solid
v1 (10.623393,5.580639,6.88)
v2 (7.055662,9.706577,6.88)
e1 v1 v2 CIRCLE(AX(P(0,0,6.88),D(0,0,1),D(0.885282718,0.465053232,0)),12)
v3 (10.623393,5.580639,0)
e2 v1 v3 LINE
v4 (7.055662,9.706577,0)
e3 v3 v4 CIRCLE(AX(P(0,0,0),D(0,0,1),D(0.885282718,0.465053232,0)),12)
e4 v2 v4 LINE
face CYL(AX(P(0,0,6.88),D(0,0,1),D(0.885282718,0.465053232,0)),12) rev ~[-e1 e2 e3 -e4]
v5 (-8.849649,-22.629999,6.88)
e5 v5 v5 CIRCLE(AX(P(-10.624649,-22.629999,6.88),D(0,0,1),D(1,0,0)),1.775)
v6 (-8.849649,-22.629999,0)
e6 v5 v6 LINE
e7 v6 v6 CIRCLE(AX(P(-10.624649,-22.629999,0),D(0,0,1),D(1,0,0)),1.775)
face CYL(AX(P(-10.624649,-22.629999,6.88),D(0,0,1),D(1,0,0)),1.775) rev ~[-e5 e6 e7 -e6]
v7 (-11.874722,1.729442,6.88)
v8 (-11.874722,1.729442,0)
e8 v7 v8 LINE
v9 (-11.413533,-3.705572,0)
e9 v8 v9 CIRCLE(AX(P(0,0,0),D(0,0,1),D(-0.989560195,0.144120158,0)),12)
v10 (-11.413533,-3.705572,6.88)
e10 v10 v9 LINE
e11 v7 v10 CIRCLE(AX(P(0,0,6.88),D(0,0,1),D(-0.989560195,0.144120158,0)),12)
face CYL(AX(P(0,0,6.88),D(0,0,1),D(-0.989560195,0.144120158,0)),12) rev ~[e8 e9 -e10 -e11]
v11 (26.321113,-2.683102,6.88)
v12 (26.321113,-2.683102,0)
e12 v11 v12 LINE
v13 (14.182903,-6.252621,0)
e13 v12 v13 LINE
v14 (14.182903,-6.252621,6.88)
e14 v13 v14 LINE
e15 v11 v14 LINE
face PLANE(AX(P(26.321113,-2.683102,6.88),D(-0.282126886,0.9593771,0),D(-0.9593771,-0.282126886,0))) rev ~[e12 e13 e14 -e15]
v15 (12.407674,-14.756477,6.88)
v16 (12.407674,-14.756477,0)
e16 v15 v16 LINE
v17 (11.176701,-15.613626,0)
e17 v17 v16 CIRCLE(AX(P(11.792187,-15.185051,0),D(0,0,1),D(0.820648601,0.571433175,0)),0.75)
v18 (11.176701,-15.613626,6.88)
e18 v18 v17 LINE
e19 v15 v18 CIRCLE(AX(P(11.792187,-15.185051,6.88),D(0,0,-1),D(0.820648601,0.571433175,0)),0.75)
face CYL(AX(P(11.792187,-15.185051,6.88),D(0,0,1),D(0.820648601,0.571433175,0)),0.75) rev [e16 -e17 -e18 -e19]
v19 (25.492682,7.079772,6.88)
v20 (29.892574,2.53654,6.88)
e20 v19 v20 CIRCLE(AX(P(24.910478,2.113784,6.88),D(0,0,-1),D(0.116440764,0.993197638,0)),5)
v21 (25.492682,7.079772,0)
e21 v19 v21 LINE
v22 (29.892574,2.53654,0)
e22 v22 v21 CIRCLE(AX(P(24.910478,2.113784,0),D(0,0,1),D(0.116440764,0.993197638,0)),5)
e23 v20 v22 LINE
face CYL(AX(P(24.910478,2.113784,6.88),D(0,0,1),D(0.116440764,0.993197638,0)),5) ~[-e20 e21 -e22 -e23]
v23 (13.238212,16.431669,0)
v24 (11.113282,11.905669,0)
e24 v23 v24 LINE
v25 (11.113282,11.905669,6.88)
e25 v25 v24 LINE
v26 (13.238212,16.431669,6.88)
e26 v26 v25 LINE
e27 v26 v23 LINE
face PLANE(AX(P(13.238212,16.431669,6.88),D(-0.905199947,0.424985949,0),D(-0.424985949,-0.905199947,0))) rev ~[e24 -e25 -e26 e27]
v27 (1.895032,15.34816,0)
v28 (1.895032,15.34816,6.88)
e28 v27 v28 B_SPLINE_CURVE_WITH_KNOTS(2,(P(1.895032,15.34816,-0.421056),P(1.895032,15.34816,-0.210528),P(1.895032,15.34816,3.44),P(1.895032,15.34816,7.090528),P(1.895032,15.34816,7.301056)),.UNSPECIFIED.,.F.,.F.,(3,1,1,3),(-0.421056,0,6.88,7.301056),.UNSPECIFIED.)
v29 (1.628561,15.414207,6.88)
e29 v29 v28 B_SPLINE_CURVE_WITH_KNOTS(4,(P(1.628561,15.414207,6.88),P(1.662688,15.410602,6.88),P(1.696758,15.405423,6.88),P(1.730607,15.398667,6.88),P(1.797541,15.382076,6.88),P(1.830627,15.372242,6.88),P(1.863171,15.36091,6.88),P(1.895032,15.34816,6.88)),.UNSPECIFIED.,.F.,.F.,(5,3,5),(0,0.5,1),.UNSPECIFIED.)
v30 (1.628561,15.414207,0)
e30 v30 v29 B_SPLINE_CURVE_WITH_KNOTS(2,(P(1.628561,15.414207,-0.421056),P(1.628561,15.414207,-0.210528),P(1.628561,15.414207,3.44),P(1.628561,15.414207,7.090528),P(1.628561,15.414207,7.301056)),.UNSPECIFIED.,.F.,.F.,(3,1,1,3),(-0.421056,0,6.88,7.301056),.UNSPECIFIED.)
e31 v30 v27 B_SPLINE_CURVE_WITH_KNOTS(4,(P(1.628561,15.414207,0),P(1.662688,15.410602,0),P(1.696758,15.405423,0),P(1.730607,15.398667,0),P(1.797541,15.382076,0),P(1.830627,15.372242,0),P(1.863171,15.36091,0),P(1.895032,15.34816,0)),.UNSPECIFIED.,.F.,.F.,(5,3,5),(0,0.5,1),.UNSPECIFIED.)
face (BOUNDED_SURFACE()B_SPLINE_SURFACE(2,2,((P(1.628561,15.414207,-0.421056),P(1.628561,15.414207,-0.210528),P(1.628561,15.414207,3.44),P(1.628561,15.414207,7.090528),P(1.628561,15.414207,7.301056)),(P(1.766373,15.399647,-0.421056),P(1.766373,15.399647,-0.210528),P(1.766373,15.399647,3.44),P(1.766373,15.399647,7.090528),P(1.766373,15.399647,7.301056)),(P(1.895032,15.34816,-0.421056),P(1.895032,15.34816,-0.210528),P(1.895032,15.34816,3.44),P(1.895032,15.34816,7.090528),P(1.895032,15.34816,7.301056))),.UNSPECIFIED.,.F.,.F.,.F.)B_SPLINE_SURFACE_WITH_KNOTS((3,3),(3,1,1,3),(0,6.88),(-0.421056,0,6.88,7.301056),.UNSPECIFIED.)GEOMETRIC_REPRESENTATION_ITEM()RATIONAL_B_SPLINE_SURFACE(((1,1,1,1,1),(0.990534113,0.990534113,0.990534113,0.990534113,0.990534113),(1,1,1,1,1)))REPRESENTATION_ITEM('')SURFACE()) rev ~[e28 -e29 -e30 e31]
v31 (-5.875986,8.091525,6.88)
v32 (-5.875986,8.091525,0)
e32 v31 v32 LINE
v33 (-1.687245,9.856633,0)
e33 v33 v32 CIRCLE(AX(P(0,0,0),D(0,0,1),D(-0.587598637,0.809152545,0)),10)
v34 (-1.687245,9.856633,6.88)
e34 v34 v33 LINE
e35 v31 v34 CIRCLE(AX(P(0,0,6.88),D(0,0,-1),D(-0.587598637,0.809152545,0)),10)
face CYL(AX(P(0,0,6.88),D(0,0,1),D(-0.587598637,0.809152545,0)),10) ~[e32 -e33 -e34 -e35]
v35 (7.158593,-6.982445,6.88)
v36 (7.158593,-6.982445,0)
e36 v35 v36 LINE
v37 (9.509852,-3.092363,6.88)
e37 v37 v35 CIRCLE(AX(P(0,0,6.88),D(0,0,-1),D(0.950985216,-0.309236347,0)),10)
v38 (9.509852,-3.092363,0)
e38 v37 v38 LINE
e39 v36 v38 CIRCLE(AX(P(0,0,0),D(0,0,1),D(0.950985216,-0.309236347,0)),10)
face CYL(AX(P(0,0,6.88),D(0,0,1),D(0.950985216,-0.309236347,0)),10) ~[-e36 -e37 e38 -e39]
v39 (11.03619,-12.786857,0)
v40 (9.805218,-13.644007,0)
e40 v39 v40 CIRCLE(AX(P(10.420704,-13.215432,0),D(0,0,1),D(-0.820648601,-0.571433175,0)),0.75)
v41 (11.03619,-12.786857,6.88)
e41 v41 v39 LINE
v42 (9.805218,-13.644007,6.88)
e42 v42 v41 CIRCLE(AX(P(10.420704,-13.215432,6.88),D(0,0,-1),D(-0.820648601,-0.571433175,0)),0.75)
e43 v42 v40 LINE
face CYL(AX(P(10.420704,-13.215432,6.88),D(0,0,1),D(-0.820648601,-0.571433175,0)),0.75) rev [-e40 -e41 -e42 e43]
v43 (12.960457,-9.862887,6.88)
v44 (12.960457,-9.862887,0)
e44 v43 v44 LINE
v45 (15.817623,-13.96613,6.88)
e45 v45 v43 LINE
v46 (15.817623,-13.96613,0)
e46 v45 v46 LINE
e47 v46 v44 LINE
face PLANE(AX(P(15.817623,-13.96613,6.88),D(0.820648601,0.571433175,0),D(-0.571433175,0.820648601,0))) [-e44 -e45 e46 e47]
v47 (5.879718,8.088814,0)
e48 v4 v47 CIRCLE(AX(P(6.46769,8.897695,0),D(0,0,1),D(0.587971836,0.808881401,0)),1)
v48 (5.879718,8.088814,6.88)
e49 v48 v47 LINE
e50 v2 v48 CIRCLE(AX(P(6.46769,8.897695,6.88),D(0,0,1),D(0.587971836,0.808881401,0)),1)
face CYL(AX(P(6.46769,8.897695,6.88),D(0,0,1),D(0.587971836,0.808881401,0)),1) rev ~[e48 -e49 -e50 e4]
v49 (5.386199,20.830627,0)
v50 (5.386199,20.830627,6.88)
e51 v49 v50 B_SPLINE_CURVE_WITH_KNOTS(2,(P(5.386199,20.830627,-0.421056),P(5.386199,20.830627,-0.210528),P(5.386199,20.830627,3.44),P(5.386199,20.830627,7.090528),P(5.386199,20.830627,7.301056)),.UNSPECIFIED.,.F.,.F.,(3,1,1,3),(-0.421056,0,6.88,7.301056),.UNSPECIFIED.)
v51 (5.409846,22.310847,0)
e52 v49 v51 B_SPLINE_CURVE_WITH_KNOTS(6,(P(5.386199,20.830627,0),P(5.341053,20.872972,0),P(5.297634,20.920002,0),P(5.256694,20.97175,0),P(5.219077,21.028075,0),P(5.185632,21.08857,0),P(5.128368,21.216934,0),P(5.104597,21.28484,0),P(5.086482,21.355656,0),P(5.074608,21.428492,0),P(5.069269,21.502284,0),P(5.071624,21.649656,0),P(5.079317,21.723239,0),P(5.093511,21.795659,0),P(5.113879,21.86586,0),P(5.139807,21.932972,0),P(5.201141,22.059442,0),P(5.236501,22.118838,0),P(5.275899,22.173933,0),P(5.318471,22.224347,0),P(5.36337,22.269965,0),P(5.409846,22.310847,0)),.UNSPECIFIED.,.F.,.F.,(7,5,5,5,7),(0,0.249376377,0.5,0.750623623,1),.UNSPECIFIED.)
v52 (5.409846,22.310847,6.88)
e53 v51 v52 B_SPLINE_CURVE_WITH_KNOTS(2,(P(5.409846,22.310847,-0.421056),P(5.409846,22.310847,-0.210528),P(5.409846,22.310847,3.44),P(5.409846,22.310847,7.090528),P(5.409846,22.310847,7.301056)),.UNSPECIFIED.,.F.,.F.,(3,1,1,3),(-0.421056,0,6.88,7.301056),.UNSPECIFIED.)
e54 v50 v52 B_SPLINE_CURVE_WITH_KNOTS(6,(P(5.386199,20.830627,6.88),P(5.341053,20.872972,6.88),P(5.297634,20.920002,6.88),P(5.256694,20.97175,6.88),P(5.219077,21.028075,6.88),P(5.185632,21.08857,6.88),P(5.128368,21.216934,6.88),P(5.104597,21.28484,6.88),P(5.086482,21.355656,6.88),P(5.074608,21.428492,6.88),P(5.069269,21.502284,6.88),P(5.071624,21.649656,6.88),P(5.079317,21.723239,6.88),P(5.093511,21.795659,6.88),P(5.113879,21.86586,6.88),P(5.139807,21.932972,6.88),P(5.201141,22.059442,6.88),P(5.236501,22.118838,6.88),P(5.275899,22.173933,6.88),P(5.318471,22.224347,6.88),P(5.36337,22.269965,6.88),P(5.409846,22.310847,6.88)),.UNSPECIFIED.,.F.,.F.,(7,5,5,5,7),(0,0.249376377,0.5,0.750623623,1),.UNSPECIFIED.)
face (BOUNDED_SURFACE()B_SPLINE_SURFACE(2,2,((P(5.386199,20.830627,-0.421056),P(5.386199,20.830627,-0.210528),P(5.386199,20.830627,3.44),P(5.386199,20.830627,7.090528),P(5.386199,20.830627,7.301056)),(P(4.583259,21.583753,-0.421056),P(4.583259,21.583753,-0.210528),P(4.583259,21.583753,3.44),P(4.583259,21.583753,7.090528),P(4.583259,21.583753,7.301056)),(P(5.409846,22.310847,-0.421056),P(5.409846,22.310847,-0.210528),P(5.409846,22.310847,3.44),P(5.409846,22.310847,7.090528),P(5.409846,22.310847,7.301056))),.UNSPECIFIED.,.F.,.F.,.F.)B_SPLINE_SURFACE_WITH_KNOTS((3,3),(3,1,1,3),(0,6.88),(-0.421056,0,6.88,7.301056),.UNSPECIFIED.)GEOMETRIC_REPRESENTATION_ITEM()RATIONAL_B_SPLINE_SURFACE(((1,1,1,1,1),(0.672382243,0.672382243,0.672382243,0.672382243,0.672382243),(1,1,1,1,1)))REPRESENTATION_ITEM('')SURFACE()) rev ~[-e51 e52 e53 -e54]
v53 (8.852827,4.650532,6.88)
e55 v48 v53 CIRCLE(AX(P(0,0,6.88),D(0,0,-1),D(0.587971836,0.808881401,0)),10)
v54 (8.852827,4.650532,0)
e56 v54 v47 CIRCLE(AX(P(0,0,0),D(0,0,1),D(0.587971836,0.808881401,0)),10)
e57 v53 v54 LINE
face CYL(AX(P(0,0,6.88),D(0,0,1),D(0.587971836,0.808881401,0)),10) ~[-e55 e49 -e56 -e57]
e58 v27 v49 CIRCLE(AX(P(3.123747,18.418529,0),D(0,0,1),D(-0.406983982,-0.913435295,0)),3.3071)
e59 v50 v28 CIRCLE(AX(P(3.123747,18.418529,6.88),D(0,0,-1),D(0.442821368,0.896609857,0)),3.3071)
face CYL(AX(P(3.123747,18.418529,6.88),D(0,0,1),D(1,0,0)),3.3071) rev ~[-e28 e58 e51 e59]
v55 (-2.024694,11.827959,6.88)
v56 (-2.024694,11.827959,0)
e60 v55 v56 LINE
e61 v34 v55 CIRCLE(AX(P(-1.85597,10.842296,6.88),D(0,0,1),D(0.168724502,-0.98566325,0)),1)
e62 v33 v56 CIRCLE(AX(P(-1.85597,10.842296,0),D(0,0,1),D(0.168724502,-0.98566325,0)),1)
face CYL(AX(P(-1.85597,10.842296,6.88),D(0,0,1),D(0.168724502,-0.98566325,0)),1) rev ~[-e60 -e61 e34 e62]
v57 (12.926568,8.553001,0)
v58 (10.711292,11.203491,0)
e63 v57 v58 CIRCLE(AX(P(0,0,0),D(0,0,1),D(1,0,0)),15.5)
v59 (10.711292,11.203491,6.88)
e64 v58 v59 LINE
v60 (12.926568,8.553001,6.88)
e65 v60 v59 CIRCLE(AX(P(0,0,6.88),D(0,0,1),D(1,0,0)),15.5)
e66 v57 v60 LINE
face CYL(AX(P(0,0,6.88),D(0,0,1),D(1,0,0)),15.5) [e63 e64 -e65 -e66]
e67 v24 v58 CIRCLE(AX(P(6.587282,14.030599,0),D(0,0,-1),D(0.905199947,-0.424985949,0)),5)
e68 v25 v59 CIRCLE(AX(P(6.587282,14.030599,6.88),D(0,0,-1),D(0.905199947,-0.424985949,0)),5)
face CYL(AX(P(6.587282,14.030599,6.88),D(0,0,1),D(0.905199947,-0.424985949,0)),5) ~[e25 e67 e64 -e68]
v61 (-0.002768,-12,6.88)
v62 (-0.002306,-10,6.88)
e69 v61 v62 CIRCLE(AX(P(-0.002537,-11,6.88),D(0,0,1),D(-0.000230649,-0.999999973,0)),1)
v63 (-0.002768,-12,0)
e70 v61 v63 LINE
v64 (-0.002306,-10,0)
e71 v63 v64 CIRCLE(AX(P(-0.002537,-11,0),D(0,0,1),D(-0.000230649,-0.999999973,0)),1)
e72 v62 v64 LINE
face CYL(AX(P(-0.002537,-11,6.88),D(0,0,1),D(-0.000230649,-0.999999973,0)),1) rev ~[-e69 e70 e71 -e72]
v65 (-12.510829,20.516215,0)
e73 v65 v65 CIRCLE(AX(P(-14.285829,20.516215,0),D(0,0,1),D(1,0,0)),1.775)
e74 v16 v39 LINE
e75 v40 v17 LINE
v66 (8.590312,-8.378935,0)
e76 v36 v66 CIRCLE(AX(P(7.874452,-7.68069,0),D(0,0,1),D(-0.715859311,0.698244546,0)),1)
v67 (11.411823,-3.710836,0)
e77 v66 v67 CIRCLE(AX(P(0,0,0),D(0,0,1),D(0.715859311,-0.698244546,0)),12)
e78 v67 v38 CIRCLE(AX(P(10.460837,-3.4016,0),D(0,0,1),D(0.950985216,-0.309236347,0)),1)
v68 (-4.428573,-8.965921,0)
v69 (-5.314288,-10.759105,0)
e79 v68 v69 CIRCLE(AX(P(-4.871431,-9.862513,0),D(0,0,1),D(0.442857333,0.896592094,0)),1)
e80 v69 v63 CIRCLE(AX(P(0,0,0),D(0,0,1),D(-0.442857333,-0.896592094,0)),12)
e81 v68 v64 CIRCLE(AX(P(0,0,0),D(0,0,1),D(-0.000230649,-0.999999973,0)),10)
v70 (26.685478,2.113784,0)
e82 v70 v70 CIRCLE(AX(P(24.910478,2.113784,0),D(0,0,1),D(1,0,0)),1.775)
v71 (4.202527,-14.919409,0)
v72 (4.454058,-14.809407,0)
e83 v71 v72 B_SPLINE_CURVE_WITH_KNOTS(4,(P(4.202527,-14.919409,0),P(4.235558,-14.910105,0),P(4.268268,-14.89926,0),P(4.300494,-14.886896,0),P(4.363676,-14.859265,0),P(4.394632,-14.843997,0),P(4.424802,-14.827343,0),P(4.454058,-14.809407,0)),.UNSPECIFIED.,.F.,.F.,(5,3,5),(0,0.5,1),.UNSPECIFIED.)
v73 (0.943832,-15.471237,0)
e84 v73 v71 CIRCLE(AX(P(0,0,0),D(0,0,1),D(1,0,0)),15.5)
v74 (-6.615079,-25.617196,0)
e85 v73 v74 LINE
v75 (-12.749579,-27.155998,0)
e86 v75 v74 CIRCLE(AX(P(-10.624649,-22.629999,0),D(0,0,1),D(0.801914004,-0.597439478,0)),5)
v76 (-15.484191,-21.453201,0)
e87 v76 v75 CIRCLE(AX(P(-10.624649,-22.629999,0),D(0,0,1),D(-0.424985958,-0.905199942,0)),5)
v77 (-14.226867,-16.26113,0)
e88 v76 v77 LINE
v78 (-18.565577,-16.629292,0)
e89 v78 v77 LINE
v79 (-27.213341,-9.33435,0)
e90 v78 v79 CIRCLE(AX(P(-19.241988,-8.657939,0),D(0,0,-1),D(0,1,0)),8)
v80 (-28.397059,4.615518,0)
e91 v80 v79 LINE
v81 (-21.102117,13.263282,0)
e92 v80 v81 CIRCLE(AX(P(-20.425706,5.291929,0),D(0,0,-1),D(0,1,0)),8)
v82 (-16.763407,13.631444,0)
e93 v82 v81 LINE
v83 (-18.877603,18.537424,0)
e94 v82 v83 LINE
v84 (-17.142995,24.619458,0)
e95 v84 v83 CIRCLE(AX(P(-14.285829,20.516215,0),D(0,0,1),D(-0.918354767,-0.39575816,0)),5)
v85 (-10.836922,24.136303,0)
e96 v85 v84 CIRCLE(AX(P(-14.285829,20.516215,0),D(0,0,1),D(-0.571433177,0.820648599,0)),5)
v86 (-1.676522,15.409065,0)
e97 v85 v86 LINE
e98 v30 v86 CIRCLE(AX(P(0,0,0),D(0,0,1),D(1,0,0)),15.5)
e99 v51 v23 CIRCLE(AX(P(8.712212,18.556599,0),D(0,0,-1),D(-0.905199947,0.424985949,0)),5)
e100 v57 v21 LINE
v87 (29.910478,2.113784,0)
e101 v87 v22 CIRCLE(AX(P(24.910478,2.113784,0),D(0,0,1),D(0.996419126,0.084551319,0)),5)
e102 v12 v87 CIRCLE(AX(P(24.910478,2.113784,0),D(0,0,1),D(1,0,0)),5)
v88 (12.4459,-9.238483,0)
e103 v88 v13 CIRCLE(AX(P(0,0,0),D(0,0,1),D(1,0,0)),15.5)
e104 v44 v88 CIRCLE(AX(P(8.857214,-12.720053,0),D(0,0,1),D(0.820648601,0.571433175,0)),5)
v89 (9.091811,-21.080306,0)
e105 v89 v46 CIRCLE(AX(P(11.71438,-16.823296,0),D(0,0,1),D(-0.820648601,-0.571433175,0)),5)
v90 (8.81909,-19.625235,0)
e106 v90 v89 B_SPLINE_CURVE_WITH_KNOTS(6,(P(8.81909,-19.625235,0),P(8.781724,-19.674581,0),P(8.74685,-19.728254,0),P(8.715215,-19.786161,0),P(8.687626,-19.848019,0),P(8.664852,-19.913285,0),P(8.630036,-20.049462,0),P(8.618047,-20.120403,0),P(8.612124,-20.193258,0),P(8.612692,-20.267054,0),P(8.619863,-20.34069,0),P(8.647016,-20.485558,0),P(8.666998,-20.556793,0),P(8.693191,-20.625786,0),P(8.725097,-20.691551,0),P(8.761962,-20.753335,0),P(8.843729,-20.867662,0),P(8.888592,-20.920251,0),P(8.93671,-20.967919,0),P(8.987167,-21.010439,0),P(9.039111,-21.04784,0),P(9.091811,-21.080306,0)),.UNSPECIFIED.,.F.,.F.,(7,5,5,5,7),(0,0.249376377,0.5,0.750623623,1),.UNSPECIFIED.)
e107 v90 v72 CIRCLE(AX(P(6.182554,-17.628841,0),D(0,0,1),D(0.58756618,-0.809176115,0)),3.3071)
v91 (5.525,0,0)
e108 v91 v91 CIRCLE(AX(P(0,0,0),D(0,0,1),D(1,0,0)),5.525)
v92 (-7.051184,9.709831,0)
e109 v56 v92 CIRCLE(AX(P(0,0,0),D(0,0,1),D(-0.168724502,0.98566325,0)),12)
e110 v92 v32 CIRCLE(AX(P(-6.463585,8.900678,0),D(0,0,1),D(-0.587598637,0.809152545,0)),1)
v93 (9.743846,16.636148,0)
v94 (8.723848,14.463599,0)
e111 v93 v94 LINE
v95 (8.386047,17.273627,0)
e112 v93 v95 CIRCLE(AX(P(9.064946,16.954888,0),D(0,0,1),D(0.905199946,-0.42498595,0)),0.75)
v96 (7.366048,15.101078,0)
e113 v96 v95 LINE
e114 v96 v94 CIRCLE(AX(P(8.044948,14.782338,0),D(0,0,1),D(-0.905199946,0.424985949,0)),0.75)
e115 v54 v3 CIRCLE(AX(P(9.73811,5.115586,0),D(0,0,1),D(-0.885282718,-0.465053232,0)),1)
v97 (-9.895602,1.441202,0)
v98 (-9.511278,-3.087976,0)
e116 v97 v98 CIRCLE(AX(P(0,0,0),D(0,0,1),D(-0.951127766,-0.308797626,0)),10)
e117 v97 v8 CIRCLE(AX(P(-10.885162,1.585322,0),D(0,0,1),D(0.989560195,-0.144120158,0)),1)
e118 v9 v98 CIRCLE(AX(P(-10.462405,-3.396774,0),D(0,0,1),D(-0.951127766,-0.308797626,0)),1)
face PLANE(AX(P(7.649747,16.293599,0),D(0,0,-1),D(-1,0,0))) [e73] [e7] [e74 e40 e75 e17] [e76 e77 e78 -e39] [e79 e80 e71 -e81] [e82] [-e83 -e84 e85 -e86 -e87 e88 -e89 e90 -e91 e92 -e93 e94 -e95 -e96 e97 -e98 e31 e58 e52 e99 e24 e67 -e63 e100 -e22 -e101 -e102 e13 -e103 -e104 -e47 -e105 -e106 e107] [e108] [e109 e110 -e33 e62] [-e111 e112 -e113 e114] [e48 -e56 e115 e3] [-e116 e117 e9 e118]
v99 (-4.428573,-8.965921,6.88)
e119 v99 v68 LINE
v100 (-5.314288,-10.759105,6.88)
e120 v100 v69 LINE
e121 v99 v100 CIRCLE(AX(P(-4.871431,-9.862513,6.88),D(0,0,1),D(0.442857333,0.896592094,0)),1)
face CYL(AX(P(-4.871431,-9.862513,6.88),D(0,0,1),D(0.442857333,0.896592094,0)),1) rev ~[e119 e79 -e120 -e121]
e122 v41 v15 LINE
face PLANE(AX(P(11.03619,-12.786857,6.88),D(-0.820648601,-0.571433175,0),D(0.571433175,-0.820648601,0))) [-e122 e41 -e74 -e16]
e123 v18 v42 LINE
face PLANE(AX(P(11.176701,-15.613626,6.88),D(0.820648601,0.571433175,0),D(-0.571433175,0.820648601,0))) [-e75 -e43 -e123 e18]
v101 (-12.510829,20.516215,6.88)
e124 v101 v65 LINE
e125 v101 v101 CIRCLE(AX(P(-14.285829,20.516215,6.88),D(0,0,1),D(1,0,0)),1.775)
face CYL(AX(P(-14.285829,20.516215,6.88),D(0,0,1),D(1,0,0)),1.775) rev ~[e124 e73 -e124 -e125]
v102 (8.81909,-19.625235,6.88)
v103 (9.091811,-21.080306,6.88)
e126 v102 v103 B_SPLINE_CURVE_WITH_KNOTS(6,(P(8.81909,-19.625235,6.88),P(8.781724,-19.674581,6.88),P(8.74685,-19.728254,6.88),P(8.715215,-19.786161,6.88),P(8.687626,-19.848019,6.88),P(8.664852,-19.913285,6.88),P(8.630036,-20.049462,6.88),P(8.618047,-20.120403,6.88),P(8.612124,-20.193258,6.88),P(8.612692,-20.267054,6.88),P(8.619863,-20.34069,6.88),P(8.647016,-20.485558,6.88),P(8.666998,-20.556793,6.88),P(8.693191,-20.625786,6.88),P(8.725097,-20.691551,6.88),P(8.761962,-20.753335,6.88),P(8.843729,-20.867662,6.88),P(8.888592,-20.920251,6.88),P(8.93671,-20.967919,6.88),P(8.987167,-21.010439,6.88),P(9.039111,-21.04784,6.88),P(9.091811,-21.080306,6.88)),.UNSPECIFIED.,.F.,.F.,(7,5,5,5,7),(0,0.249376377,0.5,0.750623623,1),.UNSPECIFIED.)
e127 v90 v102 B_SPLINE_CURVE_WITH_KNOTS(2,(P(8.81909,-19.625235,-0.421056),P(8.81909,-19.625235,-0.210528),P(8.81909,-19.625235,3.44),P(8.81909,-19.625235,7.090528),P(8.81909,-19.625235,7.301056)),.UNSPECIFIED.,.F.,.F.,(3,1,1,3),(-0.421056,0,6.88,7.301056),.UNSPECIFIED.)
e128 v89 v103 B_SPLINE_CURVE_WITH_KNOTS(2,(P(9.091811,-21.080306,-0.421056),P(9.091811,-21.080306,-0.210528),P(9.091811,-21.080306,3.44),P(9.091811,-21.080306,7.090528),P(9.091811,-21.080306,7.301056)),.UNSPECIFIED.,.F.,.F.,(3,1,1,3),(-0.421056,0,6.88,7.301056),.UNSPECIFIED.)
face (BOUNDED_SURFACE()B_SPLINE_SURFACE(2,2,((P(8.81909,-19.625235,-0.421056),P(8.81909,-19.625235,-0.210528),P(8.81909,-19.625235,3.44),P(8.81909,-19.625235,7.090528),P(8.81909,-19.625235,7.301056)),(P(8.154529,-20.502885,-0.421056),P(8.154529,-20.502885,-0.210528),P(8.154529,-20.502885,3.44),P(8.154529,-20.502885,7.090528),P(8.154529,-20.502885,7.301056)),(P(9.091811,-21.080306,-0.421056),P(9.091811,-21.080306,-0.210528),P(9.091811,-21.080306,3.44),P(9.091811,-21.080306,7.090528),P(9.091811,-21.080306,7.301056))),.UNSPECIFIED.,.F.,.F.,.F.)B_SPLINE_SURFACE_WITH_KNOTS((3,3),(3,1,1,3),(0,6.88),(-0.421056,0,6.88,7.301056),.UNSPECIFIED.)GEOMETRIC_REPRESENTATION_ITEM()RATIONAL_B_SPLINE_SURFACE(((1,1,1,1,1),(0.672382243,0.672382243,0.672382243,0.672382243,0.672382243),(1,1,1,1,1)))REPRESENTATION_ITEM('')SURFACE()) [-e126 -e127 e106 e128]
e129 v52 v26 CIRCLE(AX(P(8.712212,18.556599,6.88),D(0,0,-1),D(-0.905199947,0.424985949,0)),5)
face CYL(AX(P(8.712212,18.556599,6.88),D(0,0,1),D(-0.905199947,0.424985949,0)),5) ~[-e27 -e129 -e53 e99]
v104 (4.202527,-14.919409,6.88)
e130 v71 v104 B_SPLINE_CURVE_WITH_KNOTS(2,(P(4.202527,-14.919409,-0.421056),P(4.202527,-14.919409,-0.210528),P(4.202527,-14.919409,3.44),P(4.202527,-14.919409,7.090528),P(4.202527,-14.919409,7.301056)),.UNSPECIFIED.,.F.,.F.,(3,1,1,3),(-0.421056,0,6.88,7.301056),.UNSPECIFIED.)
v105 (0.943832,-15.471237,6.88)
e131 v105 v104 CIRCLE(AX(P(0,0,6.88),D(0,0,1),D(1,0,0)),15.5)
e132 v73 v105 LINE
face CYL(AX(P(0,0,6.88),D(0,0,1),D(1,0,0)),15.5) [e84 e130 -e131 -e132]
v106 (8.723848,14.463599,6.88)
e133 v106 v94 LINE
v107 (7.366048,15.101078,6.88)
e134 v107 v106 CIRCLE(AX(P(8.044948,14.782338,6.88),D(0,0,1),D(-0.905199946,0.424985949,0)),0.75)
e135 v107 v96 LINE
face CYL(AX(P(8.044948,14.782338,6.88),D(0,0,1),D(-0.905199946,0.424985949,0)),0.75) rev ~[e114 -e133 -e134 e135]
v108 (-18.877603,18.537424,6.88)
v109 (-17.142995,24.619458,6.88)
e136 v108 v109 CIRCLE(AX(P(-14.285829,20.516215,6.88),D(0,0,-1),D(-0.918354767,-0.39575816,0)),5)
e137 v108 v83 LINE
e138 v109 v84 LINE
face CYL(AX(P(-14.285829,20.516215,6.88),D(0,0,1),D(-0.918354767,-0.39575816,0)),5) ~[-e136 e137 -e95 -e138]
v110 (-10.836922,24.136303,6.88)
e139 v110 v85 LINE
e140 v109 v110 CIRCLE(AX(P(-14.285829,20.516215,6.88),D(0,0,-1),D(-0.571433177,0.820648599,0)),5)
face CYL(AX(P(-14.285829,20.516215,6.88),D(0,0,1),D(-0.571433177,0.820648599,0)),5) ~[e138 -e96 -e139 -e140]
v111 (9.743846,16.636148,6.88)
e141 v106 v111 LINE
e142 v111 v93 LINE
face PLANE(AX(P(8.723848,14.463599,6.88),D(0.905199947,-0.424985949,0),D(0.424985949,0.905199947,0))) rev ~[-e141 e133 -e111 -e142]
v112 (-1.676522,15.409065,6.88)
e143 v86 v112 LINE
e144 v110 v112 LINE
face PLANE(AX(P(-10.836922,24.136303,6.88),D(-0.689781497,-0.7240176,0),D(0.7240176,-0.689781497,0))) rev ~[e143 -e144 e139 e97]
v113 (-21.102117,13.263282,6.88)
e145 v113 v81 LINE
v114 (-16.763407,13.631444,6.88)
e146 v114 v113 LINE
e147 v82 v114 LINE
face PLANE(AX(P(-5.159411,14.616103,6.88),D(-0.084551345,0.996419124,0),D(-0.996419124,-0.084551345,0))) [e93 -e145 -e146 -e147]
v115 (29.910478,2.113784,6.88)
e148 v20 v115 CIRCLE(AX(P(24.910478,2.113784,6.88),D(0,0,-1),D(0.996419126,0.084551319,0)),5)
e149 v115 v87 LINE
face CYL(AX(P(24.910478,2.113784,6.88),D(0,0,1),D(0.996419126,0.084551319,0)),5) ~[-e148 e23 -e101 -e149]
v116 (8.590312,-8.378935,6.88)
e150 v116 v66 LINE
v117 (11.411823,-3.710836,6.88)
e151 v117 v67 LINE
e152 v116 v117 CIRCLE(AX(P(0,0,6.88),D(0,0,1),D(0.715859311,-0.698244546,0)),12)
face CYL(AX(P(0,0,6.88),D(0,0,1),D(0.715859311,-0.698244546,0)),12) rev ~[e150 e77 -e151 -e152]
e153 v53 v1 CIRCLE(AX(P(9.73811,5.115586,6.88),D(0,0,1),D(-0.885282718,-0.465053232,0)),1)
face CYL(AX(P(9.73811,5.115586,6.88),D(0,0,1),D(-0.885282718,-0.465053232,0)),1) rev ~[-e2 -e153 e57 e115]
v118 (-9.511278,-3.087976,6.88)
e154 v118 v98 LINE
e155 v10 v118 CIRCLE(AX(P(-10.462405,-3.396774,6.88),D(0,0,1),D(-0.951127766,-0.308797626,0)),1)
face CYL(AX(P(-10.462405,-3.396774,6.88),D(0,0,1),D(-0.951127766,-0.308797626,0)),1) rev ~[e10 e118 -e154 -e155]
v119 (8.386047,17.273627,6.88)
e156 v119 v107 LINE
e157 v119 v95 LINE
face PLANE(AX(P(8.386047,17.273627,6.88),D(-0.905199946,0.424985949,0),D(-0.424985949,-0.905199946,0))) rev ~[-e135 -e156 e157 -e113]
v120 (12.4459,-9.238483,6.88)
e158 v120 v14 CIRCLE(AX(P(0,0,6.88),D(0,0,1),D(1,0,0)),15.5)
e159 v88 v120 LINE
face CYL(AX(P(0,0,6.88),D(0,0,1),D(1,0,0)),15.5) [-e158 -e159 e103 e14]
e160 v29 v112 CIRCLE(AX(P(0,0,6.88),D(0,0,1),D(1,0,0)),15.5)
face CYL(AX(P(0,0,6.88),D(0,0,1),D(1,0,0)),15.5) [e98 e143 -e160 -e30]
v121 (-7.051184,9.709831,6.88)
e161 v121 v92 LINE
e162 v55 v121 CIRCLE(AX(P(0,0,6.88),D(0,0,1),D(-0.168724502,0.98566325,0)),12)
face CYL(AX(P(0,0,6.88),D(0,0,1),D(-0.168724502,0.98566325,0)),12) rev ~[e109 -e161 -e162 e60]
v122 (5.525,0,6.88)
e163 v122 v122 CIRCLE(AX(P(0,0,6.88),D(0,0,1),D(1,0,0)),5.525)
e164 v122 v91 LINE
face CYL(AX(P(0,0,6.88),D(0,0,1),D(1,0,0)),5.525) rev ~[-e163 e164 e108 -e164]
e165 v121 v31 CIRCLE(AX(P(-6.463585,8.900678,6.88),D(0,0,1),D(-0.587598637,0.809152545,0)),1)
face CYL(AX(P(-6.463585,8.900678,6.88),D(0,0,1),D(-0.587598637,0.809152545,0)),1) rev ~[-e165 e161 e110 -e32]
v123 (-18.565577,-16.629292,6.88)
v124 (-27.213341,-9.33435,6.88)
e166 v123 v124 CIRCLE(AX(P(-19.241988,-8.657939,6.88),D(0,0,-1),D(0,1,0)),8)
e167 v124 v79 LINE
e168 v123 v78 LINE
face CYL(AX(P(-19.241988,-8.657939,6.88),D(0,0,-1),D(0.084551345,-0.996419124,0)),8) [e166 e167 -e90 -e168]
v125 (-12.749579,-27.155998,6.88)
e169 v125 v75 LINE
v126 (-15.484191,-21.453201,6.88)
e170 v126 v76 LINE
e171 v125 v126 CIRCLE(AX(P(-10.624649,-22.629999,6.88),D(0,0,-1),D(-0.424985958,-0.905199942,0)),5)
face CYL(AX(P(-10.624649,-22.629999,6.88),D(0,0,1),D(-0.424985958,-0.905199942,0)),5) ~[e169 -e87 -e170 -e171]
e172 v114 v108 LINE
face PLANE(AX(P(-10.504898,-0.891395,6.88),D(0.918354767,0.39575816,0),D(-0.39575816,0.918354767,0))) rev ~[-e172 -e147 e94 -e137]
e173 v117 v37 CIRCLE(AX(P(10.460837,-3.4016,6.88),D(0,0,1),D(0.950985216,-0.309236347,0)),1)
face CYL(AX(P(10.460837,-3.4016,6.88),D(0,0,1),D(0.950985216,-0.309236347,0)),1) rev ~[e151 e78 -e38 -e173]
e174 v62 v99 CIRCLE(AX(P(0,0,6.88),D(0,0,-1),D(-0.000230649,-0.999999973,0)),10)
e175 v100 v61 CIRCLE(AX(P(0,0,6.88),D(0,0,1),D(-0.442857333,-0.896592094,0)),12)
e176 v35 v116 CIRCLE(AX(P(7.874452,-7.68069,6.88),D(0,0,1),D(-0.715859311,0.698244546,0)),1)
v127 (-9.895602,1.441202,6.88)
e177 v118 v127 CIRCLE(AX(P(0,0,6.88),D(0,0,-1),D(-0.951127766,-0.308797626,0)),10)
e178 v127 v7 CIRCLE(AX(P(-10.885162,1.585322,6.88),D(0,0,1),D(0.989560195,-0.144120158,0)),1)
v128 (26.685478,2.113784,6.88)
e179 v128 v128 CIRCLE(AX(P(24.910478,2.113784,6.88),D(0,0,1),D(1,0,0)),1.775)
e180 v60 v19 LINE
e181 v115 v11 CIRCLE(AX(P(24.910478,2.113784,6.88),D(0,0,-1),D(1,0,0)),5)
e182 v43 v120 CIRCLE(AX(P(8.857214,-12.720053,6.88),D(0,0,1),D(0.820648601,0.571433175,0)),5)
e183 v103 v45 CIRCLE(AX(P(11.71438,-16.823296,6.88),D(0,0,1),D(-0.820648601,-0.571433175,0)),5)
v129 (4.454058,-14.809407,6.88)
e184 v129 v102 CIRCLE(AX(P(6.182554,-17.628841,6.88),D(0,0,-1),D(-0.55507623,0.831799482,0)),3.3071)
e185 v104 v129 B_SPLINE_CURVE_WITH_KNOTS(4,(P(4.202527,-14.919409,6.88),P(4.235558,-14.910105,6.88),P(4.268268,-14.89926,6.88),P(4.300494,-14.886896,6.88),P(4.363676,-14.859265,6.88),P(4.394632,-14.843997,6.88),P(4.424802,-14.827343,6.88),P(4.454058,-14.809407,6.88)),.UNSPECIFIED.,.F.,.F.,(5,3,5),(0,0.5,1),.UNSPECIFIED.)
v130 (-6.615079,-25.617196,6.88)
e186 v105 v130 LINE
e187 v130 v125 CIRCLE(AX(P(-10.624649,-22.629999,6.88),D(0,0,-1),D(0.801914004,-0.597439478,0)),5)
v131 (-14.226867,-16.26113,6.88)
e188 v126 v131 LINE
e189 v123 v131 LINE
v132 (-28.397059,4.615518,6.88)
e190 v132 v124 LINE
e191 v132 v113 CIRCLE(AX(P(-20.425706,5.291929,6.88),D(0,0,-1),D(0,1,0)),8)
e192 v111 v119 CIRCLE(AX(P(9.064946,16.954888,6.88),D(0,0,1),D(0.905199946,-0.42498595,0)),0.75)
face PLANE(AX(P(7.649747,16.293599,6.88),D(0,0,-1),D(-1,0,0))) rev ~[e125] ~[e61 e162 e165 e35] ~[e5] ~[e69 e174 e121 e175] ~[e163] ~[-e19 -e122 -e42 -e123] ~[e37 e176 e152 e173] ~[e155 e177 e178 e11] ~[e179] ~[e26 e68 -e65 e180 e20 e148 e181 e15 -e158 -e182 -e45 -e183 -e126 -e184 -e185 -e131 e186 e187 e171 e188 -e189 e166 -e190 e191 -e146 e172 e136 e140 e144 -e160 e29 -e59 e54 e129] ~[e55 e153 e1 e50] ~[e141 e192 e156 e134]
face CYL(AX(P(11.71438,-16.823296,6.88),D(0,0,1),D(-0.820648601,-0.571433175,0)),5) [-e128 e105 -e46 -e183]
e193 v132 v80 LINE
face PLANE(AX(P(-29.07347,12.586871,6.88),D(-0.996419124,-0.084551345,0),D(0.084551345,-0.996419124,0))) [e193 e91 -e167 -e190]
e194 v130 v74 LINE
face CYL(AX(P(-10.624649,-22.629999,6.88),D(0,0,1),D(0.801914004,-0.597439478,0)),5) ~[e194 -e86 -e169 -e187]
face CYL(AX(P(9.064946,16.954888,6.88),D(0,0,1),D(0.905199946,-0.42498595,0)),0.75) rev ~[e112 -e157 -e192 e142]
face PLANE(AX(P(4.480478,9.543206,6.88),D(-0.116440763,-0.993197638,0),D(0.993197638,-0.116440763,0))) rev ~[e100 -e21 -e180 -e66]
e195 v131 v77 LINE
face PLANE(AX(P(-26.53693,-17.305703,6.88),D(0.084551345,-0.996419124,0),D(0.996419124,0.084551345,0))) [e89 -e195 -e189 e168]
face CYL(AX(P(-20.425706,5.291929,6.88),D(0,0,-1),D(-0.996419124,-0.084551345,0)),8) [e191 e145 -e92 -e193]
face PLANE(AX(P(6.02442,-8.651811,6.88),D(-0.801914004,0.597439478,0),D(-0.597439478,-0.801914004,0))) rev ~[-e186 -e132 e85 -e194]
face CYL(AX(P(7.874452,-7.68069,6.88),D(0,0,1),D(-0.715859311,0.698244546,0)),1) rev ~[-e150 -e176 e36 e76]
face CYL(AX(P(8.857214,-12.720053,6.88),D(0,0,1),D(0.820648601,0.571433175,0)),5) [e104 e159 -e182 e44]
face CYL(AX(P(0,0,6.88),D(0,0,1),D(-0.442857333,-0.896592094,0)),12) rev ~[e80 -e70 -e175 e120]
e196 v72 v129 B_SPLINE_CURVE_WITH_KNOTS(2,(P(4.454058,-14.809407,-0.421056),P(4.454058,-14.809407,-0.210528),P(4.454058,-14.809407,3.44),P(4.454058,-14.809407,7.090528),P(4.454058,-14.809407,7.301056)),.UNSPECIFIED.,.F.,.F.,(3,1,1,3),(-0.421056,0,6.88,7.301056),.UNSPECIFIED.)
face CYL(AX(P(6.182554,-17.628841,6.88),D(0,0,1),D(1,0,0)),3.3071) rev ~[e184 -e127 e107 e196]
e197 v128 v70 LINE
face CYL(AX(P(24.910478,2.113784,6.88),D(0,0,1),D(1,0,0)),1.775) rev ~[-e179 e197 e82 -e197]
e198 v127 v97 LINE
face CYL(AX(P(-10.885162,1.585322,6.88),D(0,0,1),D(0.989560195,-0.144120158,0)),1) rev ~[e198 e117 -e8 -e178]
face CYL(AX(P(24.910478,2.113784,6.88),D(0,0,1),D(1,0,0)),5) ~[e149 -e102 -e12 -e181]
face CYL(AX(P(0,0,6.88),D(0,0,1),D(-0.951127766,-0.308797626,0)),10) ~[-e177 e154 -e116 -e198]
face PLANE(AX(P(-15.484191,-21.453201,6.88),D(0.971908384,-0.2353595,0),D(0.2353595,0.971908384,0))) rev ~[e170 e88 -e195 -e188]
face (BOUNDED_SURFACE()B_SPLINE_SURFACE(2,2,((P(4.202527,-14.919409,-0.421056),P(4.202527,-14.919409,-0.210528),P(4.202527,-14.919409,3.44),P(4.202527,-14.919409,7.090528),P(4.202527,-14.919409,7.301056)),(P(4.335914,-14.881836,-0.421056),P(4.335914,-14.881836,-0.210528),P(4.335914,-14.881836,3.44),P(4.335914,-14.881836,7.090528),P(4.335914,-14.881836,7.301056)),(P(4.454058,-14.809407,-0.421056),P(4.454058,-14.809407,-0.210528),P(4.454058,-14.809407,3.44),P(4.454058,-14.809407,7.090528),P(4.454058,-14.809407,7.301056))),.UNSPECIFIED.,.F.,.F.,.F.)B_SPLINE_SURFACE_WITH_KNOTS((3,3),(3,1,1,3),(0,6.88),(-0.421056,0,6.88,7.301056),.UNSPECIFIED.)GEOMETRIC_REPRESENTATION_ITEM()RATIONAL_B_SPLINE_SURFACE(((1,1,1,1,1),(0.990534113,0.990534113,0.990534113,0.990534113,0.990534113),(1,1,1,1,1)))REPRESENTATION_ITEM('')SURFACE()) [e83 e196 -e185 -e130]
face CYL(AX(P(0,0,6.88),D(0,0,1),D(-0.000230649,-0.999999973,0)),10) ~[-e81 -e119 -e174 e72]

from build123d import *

# Parameters (mm, degrees)
SKETCH1_R           = 30
BOSS_EXTRUDE1_DEPTH = 6.88
SKETCH2_R           = 1.775
CUT_EXTRUDE1_DEPTH  = 7.88
SKETCH3_R           = 5.525
CUT_EXTRUDE2_DEPTH  = 7.88
SKETCH4_R           = 15.5
SKETCH4_R_2         = 5.525
BOSS_EXTRUDE2_DEPTH = 6.88
BOSS_EXTRUDE3_DEPTH = 6.88
FILLET1_R           = 8
BOSS_EXTRUDE4_DEPTH = 6.88
SKETCH8_R           = 3.307099625
CUT_EXTRUDE3_DEPTH  = 7.88
FILLET2_R           = 1
CUT_EXTRUDE4_DEPTH  = 7.8800001
CIRPATTERN7_COUNT   = 5


with BuildPart() as part:
    # Sketch1 → Boss-Extrude1 (new body)
    with BuildSketch(Plane.XY):
        Circle(SKETCH1_R)
    extrude(amount=BOSS_EXTRUDE1_DEPTH)

    # Sketch2 → Cut-Extrude1 (cut, through all)
    with BuildSketch(Plane.XY.offset(6.88)):
        with BuildLine():
            ThreePointArc((-12.74957851, -27.155998376), (-15.133105802, -24.791899388), (-15.484190638, -21.453201167))
            Line((-15.484190638, -21.453201167), (-10.504897898, -0.891395226))
            Line((-10.504897898, -0.891395226), (-18.877603208, 18.537424231))
            ThreePointArc((-18.877603208, 18.537424231), (-19.094099282, 21.887543025), (-17.142995258, 24.619458028))
            ThreePointArc((-17.142995258, 24.619458028), (-29.892573711, -2.536540344), (-12.74957851, -27.155998376))
        make_face()
        with BuildLine():
            ThreePointArc((29.89257372, 2.536540246), (12.74957851, 27.155998377), (-17.142995258, 24.619458028))
            ThreePointArc((-17.142995258, 24.619458028), (-13.90386181, 25.50160376), (-10.836921884, 24.136303033))
            Line((-10.836921884, 24.136303033), (4.480478038, 9.543206057))
            Line((4.480478038, 9.543206057), (25.492681909, 7.079771826))
            ThreePointArc((25.492681909, 7.079771826), (28.502217973, 5.59220348), (29.89257372, 2.536540246))
        make_face()
        with BuildLine():
            ThreePointArc((-6.6150787, -25.617196056), (-9.408118678, -27.479746561), (-12.74957851, -27.155998376))
            ThreePointArc((-12.74957851, -27.155998376), (16.085904462, -25.322789689), (30, 0))
            ThreePointArc((30, 0), (29.973131398, 1.269407029), (29.89257372, 2.536540246))
            ThreePointArc((29.89257372, 2.536540246), (29.905999993, 2.325351424), (29.910478091, 2.113783634))
            ThreePointArc((29.910478091, 2.113783634), (28.913799972, -0.881782076), (26.321112522, -2.683101866))
            Line((26.321112522, -2.683101866), (6.02441986, -8.65181083))
            Line((6.02441986, -8.65181083), (-6.6150787, -25.617196056))
        make_face()
        with Locations((-10.62464872, -22.629998665)):
            Circle(SKETCH2_R)
        with Locations((24.910478091, 2.113783634)):
            Circle(SKETCH2_R)
        with Locations((-14.285829371, 20.51621503)):
            Circle(SKETCH2_R)
    extrude(amount=-CUT_EXTRUDE1_DEPTH, mode=Mode.SUBTRACT)

    # Sketch3 → Cut-Extrude2 (cut, through all)
    with BuildSketch(Plane.XY.offset(6.88)):
        Circle(SKETCH3_R)
    extrude(amount=-CUT_EXTRUDE2_DEPTH, mode=Mode.SUBTRACT)

    # Sketch4 → Boss-Extrude2 (add)
    with BuildSketch(Plane.XY.offset(6.88)):
        Circle(SKETCH4_R)
        Circle(SKETCH4_R_2, mode=Mode.SUBTRACT)
    extrude(amount=-BOSS_EXTRUDE2_DEPTH)

    # Sketch6 → Boss-Extrude3 (add)
    with BuildSketch(Plane.XY.offset(6.88)):
        with BuildLine():
            Line((-5.159411249, 14.616103296), (-29.073470217, 12.586871007))
            Line((-29.073470217, 12.586871007), (-26.536929856, -17.305702703))
            Line((-26.536929856, -17.305702703), (-2.622870888, -15.276470414))
            ThreePointArc((-2.622870888, -15.276470414), (-15.444496417, -1.310545853), (-5.159411249, 14.616103296))
        make_face()
    extrude(amount=-BOSS_EXTRUDE3_DEPTH)

    # Fillet1
    fillet1_edges = [part.edges().sort_by_distance(p)[0] for p in [
        (-26.536929856, -17.305702703, 3.44),
        (-29.073470217, 12.586871007, 3.44),
    ]]
    fillet(fillet1_edges, radius=FILLET1_R)

    # Sketch7 → Boss-Extrude4 (add)
    with BuildSketch(Plane.XY.offset(6.88)):
        with BuildLine():
            Line((13.238211684, 16.431669161), (11.11328194, 11.905669428))
            ThreePointArc((11.11328194, 11.905669428), (4.462352462, 9.504599439), (2.061282474, 16.155528916))
            Line((2.061282474, 16.155528916), (4.186212218, 20.681528649))
            ThreePointArc((4.186212218, 20.681528649), (10.837141695, 23.082598638), (13.238211684, 16.431669161))
        make_face()
        with BuildLine():
            Line((15.817623091, -13.966130451), (12.960457216, -9.862887445))
            ThreePointArc((12.960457216, -9.862887445), (6.000048336, -8.616810313), (4.753971204, -15.577219193))
            Line((4.753971204, -15.577219193), (7.611137078, -19.680462199))
            ThreePointArc((7.611137078, -19.680462199), (14.571545959, -20.926539331), (15.817623091, -13.966130451))
        make_face()
    extrude(amount=-BOSS_EXTRUDE4_DEPTH)

    # Sketch8 → Cut-Extrude3 (cut, through all)
    with BuildSketch(Plane.XY.offset(6.88)):
        with Locations((6.182554141, -17.628840696)):
            Circle(SKETCH8_R)
        with Locations((3.123747346, 18.418528783)):
            Circle(SKETCH8_R)
        with BuildLine():
            Line((11.036190469, -12.786856964), (12.40767393, -14.756476568))
            ThreePointArc((12.40767393, -14.756476568), (12.22076236, -15.8005379), (11.176701028, -15.61362633))
            Line((11.176701028, -15.61362633), (9.805217567, -13.644006726))
            ThreePointArc((9.805217567, -13.644006726), (9.992129137, -12.599945394), (11.036190469, -12.786856964))
        make_face()
        with BuildLine():
            Line((8.723847544, 14.463598968), (9.743846426, 16.636148288))
            ThreePointArc((9.743846426, 16.636148288), (9.383685928, 17.63378771), (8.386046507, 17.273627211))
            Line((8.386046507, 17.273627211), (7.366047624, 15.101077892))
            ThreePointArc((7.366047624, 15.101077892), (7.726208122, 14.10343847), (8.723847544, 14.463598968))
        make_face()
    extrude(amount=-CUT_EXTRUDE3_DEPTH, mode=Mode.SUBTRACT)

    # Fillet2
    fillet2_edges = [part.edges().sort_by_distance(p)[0] for p in [
        (1.777810772, 15.39770726, 3.44),
        (4.346861748, -14.87799694, 3.44),
        (4.588201724, 21.383706907, 3.44),
        (8.125694034, -20.304866722, 3.44),
    ]]
    fillet(fillet2_edges, radius=FILLET2_R)

    # Sketch10 → Cut-Extrude4 (cut, through all)
    with BuildSketch(Plane.XY.offset(6.88)):
        with BuildLine():
            ThreePointArc((-11.874722343, 1.729441895), (-11.957029484, -1.014616145), (-11.413533187, -3.705571507))
            ThreePointArc((-11.413533187, -3.705571507), (-10.153607796, -4.347901647), (-9.511277656, -3.087976256))
            ThreePointArc((-9.511277656, -3.087976256), (-9.964191237, -0.845513454), (-9.895601953, 1.441201579))
            ThreePointArc((-9.895601953, 1.441201579), (-10.74104199, 2.574881932), (-11.874722343, 1.729441895))
        make_face()
    cut_extrude4 = extrude(amount=-CUT_EXTRUDE4_DEPTH, mode=Mode.SUBTRACT)

    # CirPattern7: Cut-Extrude4 ×5 about axis
    cirpattern7_axis = Axis((0, 0, 0), (0, 0, 1))
    for i in range(1, CIRPATTERN7_COUNT):
        add(cut_extrude4.rotate(cirpattern7_axis, i * 360 / CIRPATTERN7_COUNT), mode=Mode.SUBTRACT)


solid = part.part
